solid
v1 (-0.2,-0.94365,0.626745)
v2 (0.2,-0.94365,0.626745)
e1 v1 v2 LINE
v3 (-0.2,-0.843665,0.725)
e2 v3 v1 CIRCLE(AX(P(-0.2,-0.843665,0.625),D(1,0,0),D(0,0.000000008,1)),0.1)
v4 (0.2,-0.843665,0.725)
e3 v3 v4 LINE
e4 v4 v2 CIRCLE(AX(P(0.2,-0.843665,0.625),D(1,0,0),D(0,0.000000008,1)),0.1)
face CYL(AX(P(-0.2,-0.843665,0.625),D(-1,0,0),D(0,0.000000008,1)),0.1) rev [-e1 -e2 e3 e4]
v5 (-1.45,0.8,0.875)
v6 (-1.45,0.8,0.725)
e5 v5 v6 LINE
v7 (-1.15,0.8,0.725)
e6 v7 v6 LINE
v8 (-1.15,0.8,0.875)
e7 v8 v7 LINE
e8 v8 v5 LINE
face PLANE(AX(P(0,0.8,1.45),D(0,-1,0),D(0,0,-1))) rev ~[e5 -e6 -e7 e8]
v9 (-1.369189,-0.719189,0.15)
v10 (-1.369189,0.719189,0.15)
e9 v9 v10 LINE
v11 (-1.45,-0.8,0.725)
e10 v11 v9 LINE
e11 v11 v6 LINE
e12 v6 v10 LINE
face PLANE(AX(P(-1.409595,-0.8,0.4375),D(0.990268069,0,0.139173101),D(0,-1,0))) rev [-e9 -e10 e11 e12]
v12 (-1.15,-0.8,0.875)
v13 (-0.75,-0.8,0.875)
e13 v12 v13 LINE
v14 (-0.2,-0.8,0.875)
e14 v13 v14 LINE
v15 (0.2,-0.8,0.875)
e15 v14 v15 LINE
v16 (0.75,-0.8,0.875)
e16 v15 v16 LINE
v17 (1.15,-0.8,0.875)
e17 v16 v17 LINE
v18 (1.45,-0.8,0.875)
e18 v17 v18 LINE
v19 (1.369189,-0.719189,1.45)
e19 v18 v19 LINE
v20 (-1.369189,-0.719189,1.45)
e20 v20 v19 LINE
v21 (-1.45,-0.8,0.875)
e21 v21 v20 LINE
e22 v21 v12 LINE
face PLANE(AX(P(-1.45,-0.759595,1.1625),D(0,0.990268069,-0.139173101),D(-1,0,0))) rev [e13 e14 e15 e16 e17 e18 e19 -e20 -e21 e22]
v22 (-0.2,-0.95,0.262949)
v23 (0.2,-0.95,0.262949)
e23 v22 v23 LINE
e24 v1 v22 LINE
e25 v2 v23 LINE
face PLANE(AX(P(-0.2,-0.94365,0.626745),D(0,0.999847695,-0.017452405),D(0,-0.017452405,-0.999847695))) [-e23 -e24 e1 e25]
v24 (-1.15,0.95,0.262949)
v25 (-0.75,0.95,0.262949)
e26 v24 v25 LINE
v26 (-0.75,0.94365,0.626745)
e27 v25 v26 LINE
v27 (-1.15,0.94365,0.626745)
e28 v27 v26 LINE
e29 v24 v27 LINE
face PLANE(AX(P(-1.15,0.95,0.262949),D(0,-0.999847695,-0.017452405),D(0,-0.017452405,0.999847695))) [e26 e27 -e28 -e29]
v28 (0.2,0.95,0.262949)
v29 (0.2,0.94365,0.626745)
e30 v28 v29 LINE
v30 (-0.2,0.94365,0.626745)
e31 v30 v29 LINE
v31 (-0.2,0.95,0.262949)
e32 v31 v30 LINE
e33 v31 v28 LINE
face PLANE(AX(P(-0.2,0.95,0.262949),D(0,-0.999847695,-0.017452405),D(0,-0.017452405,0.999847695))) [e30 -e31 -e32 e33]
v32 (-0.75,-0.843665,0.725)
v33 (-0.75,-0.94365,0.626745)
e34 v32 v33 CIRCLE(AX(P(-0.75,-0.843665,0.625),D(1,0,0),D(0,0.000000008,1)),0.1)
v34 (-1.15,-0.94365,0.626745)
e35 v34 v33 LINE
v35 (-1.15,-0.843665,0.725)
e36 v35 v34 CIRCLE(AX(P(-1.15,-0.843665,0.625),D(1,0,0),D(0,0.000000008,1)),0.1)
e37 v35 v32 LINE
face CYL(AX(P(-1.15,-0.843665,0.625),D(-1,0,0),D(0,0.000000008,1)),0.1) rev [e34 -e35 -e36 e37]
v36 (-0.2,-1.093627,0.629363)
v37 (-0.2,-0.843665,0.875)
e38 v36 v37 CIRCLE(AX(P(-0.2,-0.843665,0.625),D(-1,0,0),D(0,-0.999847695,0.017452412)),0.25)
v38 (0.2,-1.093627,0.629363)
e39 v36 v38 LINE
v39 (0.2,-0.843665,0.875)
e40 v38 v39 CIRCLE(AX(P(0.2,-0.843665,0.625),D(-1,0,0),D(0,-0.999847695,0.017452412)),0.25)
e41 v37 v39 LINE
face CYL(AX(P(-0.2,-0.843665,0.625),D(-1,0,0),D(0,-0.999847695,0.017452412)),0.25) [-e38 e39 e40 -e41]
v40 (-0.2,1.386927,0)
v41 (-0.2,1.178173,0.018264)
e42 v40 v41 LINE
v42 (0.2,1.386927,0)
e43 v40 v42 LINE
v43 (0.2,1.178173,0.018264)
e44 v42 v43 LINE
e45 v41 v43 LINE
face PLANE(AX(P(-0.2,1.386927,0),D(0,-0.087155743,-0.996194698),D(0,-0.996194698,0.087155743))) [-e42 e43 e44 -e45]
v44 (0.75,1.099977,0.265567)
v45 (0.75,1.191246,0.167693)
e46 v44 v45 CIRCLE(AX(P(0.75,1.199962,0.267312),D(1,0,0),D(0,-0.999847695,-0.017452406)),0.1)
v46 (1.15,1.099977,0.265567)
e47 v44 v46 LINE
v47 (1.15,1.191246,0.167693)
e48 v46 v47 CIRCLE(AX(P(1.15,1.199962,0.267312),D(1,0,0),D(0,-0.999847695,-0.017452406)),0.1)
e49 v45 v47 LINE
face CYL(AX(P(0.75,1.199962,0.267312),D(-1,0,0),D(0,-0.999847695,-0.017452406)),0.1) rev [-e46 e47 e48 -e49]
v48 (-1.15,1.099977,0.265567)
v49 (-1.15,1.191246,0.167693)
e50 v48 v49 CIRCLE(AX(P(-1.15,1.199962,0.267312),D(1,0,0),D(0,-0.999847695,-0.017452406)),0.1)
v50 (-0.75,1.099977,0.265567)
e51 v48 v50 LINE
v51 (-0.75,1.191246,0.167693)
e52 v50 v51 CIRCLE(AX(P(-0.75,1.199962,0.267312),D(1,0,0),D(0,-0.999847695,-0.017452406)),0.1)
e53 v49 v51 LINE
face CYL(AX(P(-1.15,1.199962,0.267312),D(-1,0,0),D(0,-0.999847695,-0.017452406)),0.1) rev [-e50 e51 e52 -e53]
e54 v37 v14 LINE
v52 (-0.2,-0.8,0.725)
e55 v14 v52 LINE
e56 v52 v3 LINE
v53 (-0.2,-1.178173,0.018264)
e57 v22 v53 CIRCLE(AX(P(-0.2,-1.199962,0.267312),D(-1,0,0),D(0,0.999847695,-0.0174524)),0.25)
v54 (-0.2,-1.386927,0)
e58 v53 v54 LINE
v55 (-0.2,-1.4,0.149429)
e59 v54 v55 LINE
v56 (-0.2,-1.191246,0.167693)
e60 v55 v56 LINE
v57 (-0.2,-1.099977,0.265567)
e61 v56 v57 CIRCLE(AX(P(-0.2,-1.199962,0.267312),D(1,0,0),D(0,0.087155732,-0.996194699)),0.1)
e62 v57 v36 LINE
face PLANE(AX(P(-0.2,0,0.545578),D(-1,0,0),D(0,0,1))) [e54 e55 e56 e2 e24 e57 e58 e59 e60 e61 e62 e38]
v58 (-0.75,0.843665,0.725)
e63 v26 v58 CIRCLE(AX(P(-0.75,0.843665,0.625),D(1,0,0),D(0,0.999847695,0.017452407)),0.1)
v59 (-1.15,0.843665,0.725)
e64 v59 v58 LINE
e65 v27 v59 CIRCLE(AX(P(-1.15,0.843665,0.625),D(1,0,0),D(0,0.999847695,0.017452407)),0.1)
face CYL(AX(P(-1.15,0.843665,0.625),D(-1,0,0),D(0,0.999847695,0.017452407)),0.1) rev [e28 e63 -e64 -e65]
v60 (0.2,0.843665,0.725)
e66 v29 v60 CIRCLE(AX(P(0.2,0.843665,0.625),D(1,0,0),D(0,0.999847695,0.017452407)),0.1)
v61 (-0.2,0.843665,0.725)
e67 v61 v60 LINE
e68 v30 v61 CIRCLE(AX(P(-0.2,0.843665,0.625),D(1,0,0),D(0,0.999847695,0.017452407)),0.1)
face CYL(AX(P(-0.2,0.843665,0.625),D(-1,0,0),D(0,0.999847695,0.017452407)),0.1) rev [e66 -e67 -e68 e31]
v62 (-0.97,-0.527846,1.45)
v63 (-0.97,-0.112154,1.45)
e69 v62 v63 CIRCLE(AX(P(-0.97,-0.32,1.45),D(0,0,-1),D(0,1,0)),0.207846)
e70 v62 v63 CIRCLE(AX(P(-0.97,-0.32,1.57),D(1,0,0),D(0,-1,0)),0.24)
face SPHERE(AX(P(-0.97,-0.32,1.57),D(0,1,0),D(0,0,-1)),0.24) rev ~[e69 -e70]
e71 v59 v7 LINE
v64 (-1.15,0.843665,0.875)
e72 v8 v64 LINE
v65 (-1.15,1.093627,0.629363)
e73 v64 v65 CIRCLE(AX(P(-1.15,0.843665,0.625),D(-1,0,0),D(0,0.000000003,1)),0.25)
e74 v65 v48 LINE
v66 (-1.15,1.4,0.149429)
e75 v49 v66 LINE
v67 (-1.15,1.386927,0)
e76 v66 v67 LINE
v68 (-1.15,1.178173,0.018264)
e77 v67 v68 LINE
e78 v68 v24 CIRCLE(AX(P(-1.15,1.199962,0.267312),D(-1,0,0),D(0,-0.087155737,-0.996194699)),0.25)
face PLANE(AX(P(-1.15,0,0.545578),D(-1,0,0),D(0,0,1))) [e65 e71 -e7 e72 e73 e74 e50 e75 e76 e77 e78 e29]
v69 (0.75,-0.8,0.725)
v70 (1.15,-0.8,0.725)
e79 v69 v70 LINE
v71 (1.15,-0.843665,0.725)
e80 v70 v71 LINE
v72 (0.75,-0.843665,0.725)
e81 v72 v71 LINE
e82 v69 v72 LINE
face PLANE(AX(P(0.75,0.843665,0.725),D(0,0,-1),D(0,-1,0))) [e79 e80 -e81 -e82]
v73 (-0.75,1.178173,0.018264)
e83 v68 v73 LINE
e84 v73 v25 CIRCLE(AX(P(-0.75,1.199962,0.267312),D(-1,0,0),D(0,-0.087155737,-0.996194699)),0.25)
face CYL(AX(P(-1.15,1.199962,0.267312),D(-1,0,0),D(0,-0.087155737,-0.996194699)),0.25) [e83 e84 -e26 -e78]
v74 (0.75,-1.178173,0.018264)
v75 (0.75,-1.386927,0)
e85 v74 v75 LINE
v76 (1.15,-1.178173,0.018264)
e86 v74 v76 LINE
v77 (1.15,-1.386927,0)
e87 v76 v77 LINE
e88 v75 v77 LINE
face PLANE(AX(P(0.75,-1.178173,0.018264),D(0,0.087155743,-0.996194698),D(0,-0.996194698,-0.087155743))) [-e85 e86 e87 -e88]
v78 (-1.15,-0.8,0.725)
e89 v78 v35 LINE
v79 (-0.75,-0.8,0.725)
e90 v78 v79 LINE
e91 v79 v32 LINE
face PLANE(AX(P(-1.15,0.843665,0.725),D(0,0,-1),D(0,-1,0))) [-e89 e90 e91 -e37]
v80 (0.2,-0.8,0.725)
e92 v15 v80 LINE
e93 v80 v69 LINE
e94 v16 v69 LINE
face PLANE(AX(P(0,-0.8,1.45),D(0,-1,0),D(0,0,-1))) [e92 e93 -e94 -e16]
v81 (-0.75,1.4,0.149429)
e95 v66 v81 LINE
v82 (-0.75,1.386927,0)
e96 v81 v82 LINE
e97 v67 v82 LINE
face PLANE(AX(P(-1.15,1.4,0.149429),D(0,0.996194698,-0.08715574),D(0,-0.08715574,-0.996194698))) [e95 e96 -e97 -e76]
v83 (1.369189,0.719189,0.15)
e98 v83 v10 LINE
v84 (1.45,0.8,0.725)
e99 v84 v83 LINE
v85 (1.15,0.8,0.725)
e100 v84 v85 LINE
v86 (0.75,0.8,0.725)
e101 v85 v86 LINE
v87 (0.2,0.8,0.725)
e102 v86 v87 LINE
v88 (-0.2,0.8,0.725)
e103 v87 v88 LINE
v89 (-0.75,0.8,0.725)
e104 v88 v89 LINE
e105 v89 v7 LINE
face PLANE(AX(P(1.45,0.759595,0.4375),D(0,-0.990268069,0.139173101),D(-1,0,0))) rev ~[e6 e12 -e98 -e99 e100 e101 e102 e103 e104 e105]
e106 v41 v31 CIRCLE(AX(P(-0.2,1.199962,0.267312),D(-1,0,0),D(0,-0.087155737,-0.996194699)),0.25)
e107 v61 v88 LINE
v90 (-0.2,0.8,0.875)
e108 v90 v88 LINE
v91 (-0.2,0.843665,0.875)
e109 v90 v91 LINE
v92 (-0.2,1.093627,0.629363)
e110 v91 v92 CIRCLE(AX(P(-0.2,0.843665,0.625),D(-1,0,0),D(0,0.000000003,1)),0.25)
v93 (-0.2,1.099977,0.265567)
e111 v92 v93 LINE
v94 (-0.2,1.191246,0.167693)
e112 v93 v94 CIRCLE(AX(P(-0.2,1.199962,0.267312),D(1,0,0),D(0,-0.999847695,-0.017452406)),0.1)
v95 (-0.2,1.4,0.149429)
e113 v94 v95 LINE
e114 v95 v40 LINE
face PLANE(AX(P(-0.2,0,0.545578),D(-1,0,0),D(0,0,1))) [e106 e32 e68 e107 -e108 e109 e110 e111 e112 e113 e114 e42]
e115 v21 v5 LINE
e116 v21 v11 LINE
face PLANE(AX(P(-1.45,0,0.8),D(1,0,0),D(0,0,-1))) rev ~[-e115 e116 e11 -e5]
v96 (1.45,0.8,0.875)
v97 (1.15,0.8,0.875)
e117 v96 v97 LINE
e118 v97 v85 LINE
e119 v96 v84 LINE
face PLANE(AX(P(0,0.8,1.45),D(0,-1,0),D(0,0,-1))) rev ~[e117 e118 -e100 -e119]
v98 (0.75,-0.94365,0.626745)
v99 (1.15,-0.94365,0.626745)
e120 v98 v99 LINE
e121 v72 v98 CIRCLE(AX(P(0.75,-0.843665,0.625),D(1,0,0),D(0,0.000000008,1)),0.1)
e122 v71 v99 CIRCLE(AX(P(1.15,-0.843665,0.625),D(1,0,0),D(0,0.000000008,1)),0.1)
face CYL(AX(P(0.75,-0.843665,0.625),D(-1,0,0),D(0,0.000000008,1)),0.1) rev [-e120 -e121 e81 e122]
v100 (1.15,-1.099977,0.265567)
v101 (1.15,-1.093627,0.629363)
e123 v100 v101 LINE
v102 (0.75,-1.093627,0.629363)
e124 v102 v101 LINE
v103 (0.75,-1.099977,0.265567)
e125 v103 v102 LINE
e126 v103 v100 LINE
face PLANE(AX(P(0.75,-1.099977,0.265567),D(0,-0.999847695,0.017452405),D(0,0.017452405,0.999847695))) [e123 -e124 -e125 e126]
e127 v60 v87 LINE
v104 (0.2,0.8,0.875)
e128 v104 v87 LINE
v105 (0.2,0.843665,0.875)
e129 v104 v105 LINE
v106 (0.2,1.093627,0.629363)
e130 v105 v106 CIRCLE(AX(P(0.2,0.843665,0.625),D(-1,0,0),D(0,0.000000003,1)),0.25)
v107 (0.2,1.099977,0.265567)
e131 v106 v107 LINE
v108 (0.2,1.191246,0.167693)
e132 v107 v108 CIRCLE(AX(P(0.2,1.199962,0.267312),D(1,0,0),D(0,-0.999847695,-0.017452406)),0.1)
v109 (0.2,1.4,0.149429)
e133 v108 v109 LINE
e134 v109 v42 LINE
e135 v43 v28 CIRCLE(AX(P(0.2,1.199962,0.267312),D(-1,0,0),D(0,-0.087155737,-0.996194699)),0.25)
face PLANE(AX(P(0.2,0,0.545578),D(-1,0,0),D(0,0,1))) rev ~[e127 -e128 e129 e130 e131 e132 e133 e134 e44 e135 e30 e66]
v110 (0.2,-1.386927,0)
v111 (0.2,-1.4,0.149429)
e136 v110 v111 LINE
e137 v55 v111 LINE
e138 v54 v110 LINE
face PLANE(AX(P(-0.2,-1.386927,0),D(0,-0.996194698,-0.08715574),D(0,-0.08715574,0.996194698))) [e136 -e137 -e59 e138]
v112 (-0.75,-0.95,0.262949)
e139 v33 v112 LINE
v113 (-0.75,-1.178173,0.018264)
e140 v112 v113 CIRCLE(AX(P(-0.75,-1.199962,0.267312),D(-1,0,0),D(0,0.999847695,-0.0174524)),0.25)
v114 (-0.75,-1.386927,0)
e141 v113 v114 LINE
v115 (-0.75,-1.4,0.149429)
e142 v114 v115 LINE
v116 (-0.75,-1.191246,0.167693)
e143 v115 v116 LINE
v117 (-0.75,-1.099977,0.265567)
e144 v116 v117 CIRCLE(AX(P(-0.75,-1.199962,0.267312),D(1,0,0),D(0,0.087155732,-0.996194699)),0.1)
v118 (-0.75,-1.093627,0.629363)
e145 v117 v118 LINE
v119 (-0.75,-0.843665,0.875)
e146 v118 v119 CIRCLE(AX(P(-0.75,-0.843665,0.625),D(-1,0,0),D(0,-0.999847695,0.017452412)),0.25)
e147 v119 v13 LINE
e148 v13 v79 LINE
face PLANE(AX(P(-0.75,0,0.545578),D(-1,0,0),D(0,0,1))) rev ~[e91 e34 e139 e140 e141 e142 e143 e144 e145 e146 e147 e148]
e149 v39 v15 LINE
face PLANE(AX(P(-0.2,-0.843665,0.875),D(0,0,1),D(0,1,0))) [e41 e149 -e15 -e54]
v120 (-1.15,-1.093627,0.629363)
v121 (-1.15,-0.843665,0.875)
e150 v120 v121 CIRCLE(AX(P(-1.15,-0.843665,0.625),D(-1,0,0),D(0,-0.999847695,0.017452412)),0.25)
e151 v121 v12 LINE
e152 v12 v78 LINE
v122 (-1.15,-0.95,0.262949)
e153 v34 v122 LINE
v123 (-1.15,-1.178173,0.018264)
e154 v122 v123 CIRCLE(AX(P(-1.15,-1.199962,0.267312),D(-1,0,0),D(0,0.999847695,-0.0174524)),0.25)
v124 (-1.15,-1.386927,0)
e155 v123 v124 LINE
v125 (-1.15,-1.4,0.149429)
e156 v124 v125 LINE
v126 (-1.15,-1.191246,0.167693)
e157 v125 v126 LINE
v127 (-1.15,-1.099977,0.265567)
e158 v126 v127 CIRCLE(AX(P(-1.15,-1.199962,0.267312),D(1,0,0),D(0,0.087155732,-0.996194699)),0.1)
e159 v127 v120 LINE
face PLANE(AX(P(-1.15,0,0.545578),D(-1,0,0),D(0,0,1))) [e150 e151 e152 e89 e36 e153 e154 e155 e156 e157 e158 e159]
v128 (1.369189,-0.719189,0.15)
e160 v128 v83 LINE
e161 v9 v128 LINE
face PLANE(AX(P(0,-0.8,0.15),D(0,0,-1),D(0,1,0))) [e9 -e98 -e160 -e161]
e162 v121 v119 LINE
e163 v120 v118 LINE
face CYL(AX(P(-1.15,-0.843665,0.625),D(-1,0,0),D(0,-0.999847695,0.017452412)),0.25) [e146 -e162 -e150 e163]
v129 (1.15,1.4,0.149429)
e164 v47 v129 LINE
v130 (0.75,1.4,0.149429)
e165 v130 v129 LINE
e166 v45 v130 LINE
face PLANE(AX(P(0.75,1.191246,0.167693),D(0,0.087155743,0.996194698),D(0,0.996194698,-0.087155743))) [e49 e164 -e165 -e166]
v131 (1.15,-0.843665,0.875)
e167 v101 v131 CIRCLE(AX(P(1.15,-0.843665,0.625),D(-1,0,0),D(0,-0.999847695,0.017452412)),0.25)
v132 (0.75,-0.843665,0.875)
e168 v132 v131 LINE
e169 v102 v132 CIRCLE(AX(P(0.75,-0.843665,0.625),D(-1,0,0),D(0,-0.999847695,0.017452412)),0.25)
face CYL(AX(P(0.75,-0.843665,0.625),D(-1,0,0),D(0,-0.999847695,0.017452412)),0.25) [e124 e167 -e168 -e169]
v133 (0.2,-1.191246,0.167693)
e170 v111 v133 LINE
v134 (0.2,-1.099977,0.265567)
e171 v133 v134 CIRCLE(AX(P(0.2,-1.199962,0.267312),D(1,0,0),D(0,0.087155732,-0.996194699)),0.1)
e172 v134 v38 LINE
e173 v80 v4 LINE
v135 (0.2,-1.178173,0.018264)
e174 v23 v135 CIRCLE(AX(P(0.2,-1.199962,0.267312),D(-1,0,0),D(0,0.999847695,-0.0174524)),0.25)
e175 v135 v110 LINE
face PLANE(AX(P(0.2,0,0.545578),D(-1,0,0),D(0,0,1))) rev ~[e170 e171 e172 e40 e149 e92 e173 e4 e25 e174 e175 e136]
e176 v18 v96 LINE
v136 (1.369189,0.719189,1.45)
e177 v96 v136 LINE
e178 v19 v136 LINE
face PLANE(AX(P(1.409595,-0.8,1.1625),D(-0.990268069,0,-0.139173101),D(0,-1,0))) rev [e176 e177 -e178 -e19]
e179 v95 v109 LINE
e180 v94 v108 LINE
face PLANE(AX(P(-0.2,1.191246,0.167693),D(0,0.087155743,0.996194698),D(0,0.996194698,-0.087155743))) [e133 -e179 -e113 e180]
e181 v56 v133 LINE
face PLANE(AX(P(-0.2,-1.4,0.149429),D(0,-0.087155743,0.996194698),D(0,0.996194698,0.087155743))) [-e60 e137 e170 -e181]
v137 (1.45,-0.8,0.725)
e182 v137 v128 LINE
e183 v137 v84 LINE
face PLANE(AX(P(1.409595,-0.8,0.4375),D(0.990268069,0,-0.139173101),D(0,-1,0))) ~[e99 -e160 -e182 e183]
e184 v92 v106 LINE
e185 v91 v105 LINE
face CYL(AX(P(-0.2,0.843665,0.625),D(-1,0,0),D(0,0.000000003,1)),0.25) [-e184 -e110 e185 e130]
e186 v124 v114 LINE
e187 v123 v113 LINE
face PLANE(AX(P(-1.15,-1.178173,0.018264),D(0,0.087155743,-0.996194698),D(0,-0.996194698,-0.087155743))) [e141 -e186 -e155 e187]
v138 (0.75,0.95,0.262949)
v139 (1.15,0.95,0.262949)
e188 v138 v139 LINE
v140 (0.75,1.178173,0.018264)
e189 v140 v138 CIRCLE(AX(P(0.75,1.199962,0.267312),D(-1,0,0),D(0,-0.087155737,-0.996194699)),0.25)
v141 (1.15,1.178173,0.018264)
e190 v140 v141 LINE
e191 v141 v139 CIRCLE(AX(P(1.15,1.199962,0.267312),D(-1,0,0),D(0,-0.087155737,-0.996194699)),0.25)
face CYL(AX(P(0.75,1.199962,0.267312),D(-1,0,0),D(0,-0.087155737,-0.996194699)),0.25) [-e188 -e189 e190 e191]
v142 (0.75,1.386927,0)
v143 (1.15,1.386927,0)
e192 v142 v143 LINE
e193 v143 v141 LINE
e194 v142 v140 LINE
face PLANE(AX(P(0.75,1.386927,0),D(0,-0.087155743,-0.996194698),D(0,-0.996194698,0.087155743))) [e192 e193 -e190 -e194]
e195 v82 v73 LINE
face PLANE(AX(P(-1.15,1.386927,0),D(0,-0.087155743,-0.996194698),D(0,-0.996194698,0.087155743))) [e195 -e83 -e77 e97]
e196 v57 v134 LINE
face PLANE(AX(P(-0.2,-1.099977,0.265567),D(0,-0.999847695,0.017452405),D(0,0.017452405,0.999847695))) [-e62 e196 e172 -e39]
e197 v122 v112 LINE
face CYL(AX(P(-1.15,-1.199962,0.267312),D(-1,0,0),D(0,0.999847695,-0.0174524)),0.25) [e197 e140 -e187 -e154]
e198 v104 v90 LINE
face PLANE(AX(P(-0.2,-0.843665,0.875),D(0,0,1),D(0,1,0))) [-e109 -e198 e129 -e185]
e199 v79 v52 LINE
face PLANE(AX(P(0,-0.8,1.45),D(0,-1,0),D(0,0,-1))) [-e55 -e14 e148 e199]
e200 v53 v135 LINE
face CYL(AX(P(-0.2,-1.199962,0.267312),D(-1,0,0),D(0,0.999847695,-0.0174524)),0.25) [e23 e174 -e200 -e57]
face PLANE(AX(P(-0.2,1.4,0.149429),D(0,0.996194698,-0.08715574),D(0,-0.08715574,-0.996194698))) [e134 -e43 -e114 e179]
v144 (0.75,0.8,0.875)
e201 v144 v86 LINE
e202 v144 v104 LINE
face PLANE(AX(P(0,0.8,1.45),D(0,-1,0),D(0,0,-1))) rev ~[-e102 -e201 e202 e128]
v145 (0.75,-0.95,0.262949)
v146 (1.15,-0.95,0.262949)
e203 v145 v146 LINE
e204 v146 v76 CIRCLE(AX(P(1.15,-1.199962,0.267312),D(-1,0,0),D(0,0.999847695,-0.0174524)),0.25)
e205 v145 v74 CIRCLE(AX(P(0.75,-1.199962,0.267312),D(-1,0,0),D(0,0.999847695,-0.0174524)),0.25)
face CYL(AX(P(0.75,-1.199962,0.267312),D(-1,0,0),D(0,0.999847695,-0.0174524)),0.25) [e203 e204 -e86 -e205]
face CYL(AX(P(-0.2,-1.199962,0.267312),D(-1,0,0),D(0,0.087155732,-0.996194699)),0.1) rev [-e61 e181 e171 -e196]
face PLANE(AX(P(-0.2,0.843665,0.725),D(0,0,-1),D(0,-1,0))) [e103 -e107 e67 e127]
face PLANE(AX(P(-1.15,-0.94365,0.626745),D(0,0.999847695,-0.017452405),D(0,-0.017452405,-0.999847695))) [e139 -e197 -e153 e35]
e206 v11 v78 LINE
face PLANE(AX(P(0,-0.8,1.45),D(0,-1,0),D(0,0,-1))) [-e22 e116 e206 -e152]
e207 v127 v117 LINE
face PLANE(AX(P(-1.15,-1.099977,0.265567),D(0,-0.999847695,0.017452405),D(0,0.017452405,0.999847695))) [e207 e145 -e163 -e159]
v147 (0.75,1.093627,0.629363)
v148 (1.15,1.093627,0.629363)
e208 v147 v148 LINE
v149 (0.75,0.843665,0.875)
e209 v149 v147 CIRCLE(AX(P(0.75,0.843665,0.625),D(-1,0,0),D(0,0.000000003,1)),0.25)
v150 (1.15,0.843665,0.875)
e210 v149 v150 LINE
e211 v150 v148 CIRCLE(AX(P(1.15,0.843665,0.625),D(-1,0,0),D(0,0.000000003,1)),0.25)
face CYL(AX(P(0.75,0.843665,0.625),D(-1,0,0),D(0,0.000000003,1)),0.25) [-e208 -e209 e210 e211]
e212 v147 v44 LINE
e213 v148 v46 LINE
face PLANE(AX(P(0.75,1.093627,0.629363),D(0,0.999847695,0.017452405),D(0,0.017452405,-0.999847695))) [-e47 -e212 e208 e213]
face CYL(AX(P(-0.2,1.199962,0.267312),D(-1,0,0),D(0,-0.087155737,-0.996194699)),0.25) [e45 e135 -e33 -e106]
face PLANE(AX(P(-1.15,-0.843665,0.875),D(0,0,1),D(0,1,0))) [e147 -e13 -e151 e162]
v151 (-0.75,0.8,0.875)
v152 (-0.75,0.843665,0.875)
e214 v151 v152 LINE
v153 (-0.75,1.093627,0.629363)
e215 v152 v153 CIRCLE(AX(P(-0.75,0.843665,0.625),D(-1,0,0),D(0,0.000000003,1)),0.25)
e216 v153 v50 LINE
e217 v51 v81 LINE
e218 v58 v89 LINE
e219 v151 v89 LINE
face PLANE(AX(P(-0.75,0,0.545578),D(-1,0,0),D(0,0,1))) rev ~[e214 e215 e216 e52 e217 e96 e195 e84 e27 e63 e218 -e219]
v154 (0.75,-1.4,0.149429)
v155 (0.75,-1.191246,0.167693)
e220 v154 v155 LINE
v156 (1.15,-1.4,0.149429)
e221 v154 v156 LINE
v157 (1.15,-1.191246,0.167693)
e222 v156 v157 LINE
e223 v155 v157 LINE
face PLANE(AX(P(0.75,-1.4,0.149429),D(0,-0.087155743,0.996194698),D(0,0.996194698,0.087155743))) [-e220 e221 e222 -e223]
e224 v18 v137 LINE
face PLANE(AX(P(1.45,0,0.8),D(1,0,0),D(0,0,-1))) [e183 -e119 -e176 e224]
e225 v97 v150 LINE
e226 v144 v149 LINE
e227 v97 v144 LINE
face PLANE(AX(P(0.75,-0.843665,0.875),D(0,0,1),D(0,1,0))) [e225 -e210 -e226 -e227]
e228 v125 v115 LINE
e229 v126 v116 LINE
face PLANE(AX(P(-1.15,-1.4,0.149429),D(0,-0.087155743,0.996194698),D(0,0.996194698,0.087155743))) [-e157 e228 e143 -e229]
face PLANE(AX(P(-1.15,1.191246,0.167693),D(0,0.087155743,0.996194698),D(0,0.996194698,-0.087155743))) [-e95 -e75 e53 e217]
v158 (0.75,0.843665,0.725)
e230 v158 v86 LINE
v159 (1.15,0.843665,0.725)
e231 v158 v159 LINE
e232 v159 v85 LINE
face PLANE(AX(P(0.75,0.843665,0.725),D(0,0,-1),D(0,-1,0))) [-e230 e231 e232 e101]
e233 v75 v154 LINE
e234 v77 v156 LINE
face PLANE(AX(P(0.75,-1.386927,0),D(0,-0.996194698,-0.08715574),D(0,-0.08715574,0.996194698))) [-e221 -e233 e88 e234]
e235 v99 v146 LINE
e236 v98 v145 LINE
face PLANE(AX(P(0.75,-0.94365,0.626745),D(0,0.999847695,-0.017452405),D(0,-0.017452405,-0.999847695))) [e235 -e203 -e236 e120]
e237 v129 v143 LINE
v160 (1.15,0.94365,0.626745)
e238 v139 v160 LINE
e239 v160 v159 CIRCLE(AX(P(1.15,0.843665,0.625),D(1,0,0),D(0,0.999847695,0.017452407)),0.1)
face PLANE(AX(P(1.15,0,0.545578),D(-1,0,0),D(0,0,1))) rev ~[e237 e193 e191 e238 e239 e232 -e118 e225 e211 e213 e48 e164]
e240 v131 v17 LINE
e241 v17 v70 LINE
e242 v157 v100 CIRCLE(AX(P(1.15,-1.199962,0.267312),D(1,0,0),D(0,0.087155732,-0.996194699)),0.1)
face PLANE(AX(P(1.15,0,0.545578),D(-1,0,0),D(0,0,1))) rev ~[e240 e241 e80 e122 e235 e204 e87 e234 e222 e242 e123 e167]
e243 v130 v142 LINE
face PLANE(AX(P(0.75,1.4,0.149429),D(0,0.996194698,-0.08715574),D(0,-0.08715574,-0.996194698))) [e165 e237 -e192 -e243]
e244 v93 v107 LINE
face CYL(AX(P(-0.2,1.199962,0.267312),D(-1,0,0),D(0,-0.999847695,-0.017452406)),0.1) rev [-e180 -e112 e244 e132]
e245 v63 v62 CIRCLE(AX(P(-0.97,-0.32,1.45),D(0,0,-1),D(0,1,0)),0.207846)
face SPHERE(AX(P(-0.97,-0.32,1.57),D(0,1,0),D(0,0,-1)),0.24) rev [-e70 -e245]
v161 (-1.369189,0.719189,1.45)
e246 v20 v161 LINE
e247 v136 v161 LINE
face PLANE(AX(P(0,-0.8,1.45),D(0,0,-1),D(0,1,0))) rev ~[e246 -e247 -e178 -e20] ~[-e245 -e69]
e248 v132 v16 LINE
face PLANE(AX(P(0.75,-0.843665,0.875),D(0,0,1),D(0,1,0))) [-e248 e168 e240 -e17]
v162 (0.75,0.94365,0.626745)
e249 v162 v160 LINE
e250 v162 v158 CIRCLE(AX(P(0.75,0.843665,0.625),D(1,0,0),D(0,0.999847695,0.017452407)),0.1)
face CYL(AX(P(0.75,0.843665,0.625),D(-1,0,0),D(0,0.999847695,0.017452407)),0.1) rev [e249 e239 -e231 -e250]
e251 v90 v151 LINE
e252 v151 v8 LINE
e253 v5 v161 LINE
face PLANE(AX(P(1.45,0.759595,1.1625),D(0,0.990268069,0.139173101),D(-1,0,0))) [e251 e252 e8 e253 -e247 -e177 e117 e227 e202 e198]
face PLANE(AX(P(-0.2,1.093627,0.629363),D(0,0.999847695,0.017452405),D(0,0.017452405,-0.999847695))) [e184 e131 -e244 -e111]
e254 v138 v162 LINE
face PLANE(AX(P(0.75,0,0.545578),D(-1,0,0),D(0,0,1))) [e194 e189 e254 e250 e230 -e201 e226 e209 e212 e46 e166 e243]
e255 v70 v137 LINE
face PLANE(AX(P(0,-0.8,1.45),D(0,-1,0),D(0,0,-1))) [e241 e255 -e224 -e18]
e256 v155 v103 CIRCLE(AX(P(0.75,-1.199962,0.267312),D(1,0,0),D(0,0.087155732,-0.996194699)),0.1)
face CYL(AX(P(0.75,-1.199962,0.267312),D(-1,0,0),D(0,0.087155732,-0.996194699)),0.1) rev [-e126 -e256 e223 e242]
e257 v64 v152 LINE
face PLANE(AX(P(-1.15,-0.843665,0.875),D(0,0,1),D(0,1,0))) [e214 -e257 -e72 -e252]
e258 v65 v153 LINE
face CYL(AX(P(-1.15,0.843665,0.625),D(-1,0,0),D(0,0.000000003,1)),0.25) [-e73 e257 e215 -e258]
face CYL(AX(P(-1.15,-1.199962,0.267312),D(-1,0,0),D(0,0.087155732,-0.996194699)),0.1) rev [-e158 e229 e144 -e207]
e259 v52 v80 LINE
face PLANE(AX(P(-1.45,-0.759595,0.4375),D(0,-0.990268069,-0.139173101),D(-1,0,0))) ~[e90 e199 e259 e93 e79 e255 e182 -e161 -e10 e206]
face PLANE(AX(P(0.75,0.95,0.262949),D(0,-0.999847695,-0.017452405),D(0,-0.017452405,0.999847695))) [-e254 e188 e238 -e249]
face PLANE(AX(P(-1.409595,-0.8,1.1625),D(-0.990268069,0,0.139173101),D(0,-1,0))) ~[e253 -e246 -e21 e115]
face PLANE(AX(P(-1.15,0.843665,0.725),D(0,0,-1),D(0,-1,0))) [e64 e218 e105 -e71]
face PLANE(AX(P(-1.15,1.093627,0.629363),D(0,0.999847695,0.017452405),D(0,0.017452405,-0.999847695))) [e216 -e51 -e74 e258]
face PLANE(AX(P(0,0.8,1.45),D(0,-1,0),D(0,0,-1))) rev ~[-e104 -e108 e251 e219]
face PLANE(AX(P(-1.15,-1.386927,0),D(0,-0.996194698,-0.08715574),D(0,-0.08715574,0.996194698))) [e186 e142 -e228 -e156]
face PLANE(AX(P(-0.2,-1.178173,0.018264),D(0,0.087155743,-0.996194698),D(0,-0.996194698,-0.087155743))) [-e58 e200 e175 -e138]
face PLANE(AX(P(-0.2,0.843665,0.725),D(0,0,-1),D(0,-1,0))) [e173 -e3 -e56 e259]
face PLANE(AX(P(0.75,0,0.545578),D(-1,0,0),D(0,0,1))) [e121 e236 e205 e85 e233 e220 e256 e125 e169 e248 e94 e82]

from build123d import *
from OCP.BRepFilletAPI import BRepFilletAPI_MakeChamfer
from build123d.topology import SkipClean

# Parameters (mm, degrees)
BODYWXH_W          = 1.3
BODYWXH_H          = 1.6
BOSS_BODY_DEPTH    = 1.45
CHAMFER1_SIZE      = 0.575
CHAMFER1_SIZE2     = 0.08081098
PINS_DEPTH         = 0.4
PATTERNLEADS_COUNT = 3
PATTERNLEADS_PITCH = 0.95


with BuildPart() as part:
    # BodyWxH → Boss-Body (new, symmetric)
    with BuildSketch(Plane(origin=(0, 0, 0), x_dir=(0, 0, -1), z_dir=(1, 0, 0))):
        with Locations((-0.8, 0)):
            Rectangle(BODYWXH_W, BODYWXH_H)
    extrude(amount=BOSS_BODY_DEPTH, both=True)

    # Chamfer1: one chamfer whose edges measure the first distance from different faces: ONE call of the kernel's chamfer builder (chamfer() names one face for all edges)
    chamfer1_edges_1 = [part.edges().sort_by_distance(p)[0] for p in [
        (0, -0.8, 0.15),
        (0, -0.8, 1.45),
    ]]
    chamfer1_side_1 = [part.faces().sort_by_distance(p)[0] for p in [
        (0, -0.8, 0.8),
    ]]
    chamfer1_edges_2 = [part.edges().sort_by_distance(p)[0] for p in [
        (1.45, 0, 0.15),
        (1.45, 0, 1.45),
    ]]
    chamfer1_side_2 = [part.faces().sort_by_distance(p)[0] for p in [
        (1.45, 0, 0.8),
    ]]
    chamfer1_edges_3 = [part.edges().sort_by_distance(p)[0] for p in [
        (0, 0.8, 0.15),
        (0, 0.8, 1.45),
    ]]
    chamfer1_side_3 = [part.faces().sort_by_distance(p)[0] for p in [
        (0, 0.8, 0.8),
    ]]
    chamfer1_edges_4 = [part.edges().sort_by_distance(p)[0] for p in [
        (-1.45, 0, 0.15),
        (-1.45, 0, 1.45),
    ]]
    chamfer1_side_4 = [part.faces().sort_by_distance(p)[0] for p in [
        (-1.45, 0, 0.8),
    ]]
    chamfer1 = BRepFilletAPI_MakeChamfer(part.part.solid().wrapped)
    for e in chamfer1_edges_1:
        chamfer1.Add(CHAMFER1_SIZE, CHAMFER1_SIZE2, e.wrapped, chamfer1_side_1[0].wrapped)  # the first distance lies on this face
    for e in chamfer1_edges_2:
        chamfer1.Add(CHAMFER1_SIZE, CHAMFER1_SIZE2, e.wrapped, chamfer1_side_2[0].wrapped)  # the first distance lies on this face
    for e in chamfer1_edges_3:
        chamfer1.Add(CHAMFER1_SIZE, CHAMFER1_SIZE2, e.wrapped, chamfer1_side_3[0].wrapped)  # the first distance lies on this face
    for e in chamfer1_edges_4:
        chamfer1.Add(CHAMFER1_SIZE, CHAMFER1_SIZE2, e.wrapped, chamfer1_side_4[0].wrapped)  # the first distance lies on this face
    add(Compound.cast(chamfer1.Shape()), mode=Mode.REPLACE)

    # LeadCross → Pins (add)
    with BuildSketch(Plane(origin=(-1.15, 0, 0), x_dir=(0, 0, -1), z_dir=(1, 0, 0))):
        with BuildLine():
            Line((0, -1.386926639), (-0.149429205, -1.4))
            Line((-0.149429205, -1.4), (-0.167692783, -1.19124635))
            ThreePointArc((-0.167692783, -1.19124635), (-0.199112416, -1.126826554), (-0.265567012, -1.099977154))
            Line((-0.265567012, -1.099977154), (-0.629363102, -1.09362707))
            ThreePointArc((-0.629363102, -1.09362707), (-0.803312612, -1.018892462), (-0.875, -0.843665146))
            Line((-0.875, -0.843665146), (-0.875, 0.843665146))
            ThreePointArc((-0.875, 0.843665146), (-0.803312612, 1.018892462), (-0.629363102, 1.09362707))
            Line((-0.629363102, 1.09362707), (-0.265567012, 1.099977154))
            ThreePointArc((-0.265567012, 1.099977154), (-0.199112416, 1.126826554), (-0.167692783, 1.19124635))
            Line((-0.167692783, 1.19124635), (-0.149429205, 1.4))
            Line((-0.149429205, 1.4), (0, 1.386926639))
            Line((0, 1.386926639), (-0.018263578, 1.178172988))
            ThreePointArc((-0.018263578, 1.178172988), (-0.096812662, 1.017123498), (-0.262949151, 0.95))
            Line((-0.262949151, 0.95), (-0.626745241, 0.943649916))
            ThreePointArc((-0.626745241, 0.943649916), (-0.696325045, 0.913756073), (-0.725, 0.843665146))
            Line((-0.725, 0.843665146), (-0.725, -0.843665146))
            ThreePointArc((-0.725, -0.843665146), (-0.696325045, -0.913756073), (-0.626745241, -0.943649916))
            Line((-0.626745241, -0.943649916), (-0.262949151, -0.95))
            ThreePointArc((-0.262949151, -0.95), (-0.096812662, -1.017123498), (-0.018263578, -1.178172988))
            Line((-0.018263578, -1.178172988), (0, -1.386926639))
        make_face()
    pins = extrude(amount=PINS_DEPTH)

    # PatternLeads: Pins ×3
    with Locations(*[(i * PATTERNLEADS_PITCH, 0, 0) for i in range(1, PATTERNLEADS_COUNT)]):
        add(pins)

    # Pin1Indent → Cut-Pin1Indent (revolve, cut)
    with SkipClean():  # the faces are left unmerged after this step: merging them gives an invalid solid
        with BuildSketch(Plane(origin=(-0.97, 0, 0), x_dir=(0, 0, -1), z_dir=(1, 0, 0))):
            with BuildLine():
                Line((-1.57, -0.08), (-1.57, -0.56))
                ThreePointArc((-1.57, -0.56), (-1.33, -0.32), (-1.57, -0.08))
            make_face()
        revolve(axis=Axis((-0.97, -0.08, 1.57), (0, -1, 0)), mode=Mode.SUBTRACT)


solid = part.part
